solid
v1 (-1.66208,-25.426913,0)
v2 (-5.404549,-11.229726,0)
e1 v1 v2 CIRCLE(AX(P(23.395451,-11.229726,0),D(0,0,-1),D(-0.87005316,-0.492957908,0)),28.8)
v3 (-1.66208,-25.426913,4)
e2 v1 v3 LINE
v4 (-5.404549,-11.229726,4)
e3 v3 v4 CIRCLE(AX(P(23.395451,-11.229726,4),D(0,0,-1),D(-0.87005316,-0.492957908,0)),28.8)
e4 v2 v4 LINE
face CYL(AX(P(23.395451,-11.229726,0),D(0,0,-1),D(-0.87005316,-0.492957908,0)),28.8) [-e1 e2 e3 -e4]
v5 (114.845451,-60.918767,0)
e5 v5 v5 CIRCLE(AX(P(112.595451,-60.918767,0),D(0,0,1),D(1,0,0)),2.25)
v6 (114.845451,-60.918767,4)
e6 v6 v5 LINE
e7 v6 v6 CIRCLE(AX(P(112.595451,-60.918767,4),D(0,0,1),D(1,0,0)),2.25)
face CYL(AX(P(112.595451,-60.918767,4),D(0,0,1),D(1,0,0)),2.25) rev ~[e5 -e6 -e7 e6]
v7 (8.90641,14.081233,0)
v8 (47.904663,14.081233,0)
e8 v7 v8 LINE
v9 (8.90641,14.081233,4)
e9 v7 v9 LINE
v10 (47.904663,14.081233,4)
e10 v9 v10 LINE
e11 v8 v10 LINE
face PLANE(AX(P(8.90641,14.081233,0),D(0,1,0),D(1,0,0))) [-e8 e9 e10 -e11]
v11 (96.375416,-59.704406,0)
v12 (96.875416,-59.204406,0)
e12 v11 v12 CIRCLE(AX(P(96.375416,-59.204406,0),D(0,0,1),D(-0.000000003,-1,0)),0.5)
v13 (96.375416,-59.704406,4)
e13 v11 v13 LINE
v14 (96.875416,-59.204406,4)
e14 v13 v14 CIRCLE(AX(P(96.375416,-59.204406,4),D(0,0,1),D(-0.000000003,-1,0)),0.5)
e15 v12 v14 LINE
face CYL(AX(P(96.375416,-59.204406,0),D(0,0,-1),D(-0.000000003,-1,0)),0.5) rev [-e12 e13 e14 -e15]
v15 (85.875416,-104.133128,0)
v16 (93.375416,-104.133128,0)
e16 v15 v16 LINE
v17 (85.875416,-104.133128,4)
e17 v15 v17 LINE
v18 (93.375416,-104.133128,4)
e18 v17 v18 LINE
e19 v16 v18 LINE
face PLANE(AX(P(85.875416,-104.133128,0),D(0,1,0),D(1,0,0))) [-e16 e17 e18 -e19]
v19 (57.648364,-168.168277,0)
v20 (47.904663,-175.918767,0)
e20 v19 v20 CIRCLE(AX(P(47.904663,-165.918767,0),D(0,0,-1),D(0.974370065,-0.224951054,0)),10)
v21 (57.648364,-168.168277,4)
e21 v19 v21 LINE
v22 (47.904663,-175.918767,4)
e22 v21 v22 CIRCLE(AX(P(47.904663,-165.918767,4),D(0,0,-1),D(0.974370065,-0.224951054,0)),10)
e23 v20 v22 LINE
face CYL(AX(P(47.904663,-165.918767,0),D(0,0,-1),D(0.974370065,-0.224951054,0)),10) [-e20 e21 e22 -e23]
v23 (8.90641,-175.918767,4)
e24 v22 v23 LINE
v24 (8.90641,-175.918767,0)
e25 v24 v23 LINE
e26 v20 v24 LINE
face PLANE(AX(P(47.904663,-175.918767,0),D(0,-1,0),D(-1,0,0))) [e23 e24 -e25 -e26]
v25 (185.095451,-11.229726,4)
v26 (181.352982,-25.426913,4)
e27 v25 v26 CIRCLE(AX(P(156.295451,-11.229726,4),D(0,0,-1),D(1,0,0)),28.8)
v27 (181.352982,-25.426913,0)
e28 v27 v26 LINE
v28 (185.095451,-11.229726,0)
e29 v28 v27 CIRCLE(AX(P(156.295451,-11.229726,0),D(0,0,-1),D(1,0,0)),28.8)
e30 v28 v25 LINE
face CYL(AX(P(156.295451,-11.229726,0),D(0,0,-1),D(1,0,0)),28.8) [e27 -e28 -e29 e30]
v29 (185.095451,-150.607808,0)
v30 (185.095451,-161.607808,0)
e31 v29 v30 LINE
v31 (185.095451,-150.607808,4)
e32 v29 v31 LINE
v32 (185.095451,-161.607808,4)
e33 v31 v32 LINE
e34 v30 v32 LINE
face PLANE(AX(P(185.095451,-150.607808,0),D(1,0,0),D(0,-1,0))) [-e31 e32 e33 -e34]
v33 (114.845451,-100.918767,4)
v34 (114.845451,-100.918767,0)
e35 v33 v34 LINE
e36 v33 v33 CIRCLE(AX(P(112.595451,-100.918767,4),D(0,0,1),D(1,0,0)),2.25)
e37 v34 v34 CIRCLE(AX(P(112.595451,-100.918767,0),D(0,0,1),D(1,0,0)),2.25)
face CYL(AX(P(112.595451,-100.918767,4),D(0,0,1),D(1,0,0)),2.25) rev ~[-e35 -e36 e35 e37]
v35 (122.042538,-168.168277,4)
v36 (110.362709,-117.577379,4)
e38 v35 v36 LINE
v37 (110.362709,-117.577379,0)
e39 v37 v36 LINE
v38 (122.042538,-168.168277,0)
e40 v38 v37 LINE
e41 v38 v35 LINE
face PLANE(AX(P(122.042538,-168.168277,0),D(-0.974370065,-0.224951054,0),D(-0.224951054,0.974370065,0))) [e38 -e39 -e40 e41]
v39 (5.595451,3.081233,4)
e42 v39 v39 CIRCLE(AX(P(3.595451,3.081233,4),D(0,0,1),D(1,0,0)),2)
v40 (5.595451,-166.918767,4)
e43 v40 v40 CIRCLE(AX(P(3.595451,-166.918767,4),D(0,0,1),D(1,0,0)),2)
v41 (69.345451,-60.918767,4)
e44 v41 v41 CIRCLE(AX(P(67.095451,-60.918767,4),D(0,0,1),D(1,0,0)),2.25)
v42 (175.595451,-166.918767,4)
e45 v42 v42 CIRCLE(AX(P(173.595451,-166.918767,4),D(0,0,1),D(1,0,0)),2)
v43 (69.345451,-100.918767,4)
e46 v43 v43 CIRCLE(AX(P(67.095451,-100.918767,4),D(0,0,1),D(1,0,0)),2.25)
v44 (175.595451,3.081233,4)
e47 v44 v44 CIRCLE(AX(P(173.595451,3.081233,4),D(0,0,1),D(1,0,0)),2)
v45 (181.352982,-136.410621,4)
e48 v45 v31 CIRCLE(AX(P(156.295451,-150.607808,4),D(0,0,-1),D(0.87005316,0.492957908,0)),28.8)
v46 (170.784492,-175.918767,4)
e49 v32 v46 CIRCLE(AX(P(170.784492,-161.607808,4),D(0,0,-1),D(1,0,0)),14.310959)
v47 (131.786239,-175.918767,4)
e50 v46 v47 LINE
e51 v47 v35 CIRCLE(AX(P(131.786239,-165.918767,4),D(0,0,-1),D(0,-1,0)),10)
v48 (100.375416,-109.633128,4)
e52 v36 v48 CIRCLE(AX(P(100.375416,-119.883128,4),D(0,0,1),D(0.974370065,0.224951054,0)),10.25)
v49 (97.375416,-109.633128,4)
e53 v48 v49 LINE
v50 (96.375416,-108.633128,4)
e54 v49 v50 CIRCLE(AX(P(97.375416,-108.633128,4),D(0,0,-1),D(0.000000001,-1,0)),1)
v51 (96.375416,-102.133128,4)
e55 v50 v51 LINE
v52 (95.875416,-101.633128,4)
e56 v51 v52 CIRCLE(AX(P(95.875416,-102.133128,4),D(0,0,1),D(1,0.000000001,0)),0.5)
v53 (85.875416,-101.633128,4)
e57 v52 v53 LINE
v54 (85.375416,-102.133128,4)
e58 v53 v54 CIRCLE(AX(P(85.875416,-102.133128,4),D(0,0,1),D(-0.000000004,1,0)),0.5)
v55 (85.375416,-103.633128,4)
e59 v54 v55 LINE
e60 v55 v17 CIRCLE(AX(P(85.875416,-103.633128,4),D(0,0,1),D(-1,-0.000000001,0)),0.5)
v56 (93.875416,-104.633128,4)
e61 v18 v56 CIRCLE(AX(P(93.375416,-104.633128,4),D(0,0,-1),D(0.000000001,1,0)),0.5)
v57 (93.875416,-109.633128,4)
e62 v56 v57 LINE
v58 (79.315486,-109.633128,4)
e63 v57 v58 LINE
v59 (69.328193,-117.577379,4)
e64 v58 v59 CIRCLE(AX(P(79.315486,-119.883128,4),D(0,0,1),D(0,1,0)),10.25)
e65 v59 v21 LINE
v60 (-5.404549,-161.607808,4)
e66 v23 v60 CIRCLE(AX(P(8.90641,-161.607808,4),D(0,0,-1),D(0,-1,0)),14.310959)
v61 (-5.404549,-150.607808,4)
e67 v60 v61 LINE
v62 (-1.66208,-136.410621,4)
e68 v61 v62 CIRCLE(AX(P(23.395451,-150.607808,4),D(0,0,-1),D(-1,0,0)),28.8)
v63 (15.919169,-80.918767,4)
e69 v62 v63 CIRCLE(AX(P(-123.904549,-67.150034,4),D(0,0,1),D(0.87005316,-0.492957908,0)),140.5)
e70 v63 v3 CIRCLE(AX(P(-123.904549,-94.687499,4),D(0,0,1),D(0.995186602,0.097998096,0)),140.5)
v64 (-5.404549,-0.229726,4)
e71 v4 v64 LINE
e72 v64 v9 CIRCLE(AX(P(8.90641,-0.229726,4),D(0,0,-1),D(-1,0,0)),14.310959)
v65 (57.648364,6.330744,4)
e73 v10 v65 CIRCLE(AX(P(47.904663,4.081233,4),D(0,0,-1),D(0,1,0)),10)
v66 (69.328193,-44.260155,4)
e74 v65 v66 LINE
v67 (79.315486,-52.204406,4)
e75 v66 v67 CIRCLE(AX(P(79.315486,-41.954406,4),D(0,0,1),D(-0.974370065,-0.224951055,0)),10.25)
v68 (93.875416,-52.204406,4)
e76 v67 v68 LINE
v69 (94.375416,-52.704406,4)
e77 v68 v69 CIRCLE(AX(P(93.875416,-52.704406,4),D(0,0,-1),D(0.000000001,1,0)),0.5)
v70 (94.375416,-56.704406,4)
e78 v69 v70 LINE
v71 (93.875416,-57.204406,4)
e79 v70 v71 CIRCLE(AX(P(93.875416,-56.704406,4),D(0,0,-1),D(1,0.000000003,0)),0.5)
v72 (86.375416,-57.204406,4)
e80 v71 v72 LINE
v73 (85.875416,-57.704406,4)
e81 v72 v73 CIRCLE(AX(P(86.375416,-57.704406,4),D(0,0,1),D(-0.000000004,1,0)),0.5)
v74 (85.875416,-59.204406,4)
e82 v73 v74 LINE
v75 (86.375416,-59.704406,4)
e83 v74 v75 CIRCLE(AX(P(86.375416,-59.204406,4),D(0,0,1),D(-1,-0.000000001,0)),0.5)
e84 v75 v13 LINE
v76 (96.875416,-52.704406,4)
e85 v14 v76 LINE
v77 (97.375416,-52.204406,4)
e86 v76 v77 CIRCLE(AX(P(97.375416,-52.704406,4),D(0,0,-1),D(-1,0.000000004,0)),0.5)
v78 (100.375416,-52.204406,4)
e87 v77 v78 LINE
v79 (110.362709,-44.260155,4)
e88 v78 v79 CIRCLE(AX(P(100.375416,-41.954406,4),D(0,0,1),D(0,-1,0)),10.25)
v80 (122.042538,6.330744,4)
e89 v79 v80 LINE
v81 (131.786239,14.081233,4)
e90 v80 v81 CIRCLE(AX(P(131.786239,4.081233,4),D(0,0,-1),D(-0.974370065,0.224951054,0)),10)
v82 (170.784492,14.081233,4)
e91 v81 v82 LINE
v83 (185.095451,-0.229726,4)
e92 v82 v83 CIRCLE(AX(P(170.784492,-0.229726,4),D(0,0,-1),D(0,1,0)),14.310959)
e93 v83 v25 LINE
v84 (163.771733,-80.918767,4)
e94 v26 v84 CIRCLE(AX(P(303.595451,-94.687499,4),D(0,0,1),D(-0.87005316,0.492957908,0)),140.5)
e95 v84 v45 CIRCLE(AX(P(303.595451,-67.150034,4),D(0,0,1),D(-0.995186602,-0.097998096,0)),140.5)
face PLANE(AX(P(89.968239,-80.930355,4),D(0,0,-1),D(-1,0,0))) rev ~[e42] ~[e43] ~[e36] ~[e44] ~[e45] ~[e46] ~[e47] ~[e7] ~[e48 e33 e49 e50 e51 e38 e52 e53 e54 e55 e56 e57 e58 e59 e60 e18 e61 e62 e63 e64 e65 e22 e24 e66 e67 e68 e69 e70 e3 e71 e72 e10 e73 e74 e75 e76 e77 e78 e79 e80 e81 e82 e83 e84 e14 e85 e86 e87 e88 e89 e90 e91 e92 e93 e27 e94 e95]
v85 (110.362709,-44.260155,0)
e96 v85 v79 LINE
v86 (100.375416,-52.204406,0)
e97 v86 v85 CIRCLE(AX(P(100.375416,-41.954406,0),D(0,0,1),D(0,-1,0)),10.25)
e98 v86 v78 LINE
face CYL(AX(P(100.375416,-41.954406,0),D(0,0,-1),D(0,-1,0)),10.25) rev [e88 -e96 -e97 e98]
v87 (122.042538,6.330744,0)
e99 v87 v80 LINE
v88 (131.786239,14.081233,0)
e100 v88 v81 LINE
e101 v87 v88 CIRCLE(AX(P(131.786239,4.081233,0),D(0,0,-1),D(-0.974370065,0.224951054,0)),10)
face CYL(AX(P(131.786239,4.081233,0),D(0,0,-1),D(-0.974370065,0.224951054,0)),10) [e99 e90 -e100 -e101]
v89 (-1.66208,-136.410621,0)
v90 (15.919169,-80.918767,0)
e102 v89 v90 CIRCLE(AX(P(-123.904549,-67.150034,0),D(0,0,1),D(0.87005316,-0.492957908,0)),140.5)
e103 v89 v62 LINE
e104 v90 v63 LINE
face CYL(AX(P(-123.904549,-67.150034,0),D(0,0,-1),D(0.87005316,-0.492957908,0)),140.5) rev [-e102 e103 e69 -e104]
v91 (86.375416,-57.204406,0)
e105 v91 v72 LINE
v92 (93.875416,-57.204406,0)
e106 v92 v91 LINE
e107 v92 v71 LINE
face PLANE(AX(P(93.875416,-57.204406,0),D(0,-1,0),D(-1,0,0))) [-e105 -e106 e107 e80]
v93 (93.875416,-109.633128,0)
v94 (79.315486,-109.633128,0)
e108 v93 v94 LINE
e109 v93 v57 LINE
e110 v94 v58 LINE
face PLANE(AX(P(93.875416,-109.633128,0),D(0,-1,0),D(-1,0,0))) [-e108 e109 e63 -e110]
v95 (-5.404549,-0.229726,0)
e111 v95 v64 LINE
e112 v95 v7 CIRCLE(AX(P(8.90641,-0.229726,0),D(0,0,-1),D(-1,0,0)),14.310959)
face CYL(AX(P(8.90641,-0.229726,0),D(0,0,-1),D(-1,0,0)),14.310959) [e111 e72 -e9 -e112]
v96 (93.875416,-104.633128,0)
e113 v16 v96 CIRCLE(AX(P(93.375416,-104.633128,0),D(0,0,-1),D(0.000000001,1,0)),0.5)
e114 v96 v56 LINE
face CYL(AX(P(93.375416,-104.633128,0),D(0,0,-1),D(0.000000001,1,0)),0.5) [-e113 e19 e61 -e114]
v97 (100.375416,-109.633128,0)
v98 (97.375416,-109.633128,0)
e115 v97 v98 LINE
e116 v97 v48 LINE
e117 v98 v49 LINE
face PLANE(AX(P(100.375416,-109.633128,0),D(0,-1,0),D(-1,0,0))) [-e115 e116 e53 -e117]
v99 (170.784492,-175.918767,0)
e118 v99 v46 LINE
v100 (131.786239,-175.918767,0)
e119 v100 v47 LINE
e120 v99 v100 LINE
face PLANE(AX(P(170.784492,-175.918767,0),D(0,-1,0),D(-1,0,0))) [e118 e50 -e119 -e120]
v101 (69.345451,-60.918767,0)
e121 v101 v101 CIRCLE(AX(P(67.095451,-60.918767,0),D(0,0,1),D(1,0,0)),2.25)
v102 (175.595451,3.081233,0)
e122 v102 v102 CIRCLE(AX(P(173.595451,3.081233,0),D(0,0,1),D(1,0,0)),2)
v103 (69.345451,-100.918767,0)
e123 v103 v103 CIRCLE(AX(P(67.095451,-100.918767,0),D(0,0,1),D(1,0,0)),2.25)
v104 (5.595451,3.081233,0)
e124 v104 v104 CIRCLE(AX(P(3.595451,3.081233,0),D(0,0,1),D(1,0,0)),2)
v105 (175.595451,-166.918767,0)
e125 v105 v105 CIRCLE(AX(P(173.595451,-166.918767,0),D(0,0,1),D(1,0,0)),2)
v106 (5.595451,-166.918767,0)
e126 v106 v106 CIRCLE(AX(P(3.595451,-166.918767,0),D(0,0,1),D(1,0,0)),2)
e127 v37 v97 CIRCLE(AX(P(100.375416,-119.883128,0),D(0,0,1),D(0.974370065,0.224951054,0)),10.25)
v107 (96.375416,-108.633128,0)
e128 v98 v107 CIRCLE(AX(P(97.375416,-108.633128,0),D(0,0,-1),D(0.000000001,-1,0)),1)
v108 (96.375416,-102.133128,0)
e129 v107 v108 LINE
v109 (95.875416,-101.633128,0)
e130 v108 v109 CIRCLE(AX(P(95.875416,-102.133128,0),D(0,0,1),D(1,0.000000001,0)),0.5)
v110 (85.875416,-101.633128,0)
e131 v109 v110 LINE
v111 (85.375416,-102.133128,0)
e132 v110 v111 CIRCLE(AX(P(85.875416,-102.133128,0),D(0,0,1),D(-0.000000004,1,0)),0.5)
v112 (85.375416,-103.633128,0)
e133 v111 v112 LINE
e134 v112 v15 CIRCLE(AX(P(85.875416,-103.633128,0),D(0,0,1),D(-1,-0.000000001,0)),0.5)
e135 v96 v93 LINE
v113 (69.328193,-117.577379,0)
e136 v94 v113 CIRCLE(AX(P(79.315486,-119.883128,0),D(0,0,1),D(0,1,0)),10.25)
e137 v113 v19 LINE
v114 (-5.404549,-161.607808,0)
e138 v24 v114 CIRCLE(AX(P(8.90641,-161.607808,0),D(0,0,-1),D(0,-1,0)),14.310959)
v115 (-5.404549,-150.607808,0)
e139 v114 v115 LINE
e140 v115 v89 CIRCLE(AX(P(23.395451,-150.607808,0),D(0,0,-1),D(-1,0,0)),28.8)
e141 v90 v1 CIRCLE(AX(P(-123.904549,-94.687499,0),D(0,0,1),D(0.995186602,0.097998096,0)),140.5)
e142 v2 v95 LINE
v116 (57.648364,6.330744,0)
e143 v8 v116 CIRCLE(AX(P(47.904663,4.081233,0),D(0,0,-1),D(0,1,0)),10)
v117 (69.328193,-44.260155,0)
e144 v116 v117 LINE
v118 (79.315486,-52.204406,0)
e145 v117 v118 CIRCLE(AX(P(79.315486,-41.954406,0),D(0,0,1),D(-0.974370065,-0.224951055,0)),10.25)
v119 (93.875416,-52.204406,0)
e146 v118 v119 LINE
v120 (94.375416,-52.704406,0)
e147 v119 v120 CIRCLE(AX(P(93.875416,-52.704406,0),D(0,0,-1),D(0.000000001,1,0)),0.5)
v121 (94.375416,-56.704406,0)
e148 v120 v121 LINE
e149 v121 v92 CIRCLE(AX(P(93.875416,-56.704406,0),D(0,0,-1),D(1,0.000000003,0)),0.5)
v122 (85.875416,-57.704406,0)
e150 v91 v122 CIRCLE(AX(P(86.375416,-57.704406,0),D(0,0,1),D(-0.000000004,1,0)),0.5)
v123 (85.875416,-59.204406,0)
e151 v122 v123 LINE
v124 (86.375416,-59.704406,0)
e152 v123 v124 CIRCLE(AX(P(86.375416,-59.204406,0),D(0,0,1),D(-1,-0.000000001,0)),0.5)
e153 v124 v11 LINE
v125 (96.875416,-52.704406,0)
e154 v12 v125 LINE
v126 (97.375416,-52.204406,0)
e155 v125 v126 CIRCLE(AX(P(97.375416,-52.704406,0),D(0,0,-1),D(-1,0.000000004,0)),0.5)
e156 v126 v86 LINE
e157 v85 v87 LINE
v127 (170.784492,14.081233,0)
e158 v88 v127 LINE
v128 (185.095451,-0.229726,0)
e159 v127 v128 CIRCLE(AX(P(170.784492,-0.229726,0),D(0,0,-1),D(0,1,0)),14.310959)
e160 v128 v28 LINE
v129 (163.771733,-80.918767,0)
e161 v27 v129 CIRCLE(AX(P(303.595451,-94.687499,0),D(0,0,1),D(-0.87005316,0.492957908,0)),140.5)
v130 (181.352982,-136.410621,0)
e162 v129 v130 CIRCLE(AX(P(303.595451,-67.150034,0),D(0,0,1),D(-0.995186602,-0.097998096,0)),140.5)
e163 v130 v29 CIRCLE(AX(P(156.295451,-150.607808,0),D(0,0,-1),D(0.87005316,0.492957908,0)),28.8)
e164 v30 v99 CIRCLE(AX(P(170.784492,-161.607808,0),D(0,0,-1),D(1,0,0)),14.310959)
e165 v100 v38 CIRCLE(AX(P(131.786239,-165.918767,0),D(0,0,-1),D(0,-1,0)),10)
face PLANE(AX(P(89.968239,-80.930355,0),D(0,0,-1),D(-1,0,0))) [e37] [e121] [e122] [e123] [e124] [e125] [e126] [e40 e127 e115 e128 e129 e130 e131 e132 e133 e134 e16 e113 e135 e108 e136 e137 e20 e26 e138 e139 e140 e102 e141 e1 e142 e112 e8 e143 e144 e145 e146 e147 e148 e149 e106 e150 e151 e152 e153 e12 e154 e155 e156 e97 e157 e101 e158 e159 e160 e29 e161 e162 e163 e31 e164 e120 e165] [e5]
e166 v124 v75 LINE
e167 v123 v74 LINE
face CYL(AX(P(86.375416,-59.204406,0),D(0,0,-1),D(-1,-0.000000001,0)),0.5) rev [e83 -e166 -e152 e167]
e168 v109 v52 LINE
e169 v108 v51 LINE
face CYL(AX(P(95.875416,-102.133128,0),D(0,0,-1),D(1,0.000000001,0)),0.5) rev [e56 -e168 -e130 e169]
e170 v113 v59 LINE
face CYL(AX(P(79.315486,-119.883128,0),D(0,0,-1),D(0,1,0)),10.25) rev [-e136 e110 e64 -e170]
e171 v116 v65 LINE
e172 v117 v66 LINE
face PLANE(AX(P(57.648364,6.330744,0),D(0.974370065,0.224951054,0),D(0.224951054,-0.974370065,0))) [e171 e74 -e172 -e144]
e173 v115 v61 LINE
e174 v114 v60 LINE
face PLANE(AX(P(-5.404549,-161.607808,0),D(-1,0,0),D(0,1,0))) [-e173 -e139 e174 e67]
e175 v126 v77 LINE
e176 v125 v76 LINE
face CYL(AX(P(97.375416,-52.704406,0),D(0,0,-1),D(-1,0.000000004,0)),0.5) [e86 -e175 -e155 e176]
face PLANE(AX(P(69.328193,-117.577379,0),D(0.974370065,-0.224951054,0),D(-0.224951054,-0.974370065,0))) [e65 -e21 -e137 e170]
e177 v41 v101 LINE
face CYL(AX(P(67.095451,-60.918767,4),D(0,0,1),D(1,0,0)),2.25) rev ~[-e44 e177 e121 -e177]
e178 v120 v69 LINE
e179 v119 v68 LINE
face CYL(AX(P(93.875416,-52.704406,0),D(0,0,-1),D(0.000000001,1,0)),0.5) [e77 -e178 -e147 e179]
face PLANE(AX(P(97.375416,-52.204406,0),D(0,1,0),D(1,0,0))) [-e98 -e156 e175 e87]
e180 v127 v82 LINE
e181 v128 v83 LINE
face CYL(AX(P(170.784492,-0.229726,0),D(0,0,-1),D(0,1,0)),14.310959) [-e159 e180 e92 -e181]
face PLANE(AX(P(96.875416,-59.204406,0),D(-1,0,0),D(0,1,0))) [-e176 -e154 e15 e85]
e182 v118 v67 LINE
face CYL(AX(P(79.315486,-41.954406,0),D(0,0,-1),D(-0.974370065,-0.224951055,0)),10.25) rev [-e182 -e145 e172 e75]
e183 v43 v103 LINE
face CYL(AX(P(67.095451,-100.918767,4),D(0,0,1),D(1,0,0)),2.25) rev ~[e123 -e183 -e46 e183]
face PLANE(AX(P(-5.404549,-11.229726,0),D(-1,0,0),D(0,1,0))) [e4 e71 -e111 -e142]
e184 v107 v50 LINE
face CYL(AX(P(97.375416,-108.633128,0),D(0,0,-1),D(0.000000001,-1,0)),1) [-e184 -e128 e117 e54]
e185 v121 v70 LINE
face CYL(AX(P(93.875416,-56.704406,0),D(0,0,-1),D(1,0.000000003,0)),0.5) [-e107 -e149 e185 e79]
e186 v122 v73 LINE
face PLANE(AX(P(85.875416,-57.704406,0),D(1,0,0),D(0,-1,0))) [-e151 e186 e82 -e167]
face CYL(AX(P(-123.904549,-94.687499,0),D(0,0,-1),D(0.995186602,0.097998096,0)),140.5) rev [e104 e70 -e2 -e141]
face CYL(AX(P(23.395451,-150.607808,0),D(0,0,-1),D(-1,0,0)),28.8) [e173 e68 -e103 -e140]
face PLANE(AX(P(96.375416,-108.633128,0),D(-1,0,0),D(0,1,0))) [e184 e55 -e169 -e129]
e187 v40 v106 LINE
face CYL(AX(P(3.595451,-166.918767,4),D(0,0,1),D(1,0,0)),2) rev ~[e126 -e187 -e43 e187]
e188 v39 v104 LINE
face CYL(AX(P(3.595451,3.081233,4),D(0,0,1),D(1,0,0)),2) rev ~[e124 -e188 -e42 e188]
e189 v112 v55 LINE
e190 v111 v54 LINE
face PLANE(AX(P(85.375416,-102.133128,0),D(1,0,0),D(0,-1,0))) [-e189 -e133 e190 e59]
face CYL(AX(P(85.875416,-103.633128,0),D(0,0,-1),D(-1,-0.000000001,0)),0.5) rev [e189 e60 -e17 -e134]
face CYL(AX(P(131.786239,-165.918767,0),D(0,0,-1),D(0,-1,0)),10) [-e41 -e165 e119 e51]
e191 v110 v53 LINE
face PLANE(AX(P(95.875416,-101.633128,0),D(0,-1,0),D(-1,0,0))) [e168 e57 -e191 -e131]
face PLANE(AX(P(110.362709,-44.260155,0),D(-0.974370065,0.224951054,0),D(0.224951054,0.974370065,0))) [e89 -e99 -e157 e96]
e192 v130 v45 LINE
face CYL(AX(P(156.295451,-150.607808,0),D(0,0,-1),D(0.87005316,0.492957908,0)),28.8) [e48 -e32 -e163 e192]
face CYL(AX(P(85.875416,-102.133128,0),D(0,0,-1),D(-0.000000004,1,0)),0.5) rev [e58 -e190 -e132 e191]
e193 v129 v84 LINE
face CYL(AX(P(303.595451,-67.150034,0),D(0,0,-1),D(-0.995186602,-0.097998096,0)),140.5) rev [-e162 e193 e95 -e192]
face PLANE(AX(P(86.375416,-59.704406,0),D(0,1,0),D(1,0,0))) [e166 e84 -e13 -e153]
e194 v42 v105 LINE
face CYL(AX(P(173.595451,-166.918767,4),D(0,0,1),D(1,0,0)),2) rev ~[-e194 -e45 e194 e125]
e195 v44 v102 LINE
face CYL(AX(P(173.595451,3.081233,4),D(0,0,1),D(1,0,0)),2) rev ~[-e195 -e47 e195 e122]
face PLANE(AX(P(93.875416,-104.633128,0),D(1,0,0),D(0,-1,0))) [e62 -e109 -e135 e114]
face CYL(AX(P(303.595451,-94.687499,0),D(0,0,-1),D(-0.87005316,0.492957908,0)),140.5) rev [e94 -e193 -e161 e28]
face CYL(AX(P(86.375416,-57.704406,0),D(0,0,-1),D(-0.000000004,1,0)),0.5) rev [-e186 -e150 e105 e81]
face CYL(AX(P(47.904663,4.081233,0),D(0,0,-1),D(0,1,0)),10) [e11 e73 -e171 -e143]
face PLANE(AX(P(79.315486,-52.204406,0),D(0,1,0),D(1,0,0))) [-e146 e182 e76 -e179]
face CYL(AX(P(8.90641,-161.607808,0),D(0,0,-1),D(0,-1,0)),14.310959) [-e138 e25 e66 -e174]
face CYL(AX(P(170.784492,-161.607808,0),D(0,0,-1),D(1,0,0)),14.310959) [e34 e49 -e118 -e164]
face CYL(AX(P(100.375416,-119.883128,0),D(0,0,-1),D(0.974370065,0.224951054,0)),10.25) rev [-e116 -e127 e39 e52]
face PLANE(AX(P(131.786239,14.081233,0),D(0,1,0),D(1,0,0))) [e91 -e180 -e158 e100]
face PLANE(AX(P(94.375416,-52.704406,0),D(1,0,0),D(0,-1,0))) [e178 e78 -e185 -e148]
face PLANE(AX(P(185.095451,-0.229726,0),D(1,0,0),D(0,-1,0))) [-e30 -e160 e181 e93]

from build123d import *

# Parameters (mm, degrees)
BOSS_EXTRUDE1_DEPTH = 4
SKETCH3_R           = 2
SKETCH3_R_2         = 2.25
CUT_EXTRUDE1_DEPTH  = 4


with BuildPart() as part:
    # Sketch2 → Boss-Extrude1 (new body)
    with BuildSketch(Plane.XY):
        with BuildLine():
            Line((94.375415976, -52.704406223), (94.375415976, -56.704406223))
            ThreePointArc((94.375415976, -56.704406223), (94.228969367, -57.057959614), (93.875415976, -57.204406223))
            Line((93.875415976, -57.204406223), (86.375415976, -57.204406223))
            ThreePointArc((86.375415976, -57.204406223), (86.021862586, -57.350852833), (85.875415976, -57.704406223))
            Line((85.875415976, -57.704406223), (85.875415976, -59.204406223))
            ThreePointArc((85.875415976, -59.204406223), (86.021862586, -59.557959614), (86.375415976, -59.704406223))
            Line((86.375415976, -59.704406223), (96.375415976, -59.704406223))
            ThreePointArc((96.375415976, -59.704406223), (96.728969367, -59.557959614), (96.875415976, -59.204406223))
            Line((96.875415976, -59.204406223), (96.875415976, -52.704406223))
            ThreePointArc((96.875415976, -52.704406223), (97.021862586, -52.350852833), (97.375415976, -52.204406223))
            Line((97.375415976, -52.204406223), (100.375415976, -52.204406223))
            ThreePointArc((100.375415976, -52.204406223), (106.756191002, -49.976139831), (110.36270914, -44.260154531))
            Line((110.36270914, -44.260154531), (122.04253828, 6.330743606))
            ThreePointArc((122.04253828, 6.330743606), (125.561092562, 11.907314631), (131.786238928, 14.081233063))
            Line((131.786238928, 14.081233063), (170.7844924, 14.081233063))
            ThreePointArc((170.7844924, 14.081233063), (180.903868338, 9.889650306), (185.095451094, -0.229725632))
            Line((185.095451094, -0.229725632), (185.095451094, -11.229725632))
            ThreePointArc((185.095451094, -11.229725632), (184.144121557, -18.570812299), (181.352982104, -25.42691337))
            ThreePointArc((181.352982104, -25.42691337), (169.65700257, -52.25234878), (163.771733482, -80.918766937))
            ThreePointArc((163.771733482, -80.918766937), (169.65700257, -109.585185095), (181.352982104, -136.410620505))
            ThreePointArc((181.352982104, -136.410620505), (184.144121557, -143.266721576), (185.095451094, -150.607808243))
            Line((185.095451094, -150.607808243), (185.095451094, -161.607808243))
            ThreePointArc((185.095451094, -161.607808243), (180.903868338, -171.727184181), (170.7844924, -175.918766937))
            Line((170.7844924, -175.918766937), (131.786238928, -175.918766937))
            ThreePointArc((131.786238928, -175.918766937), (125.561092562, -173.744848506), (122.04253828, -168.168277481))
            Line((122.04253828, -168.168277481), (110.36270914, -117.577379344))
            ThreePointArc((110.36270914, -117.577379344), (106.756191002, -111.861394044), (100.375415976, -109.633127651))
            Line((100.375415976, -109.633127651), (97.375415976, -109.633127651))
            ThreePointArc((97.375415976, -109.633127651), (96.668309195, -109.340234433), (96.375415976, -108.633127651))
            Line((96.375415976, -108.633127651), (96.375415976, -102.133127651))
            ThreePointArc((96.375415976, -102.133127651), (96.228969367, -101.779574261), (95.875415976, -101.633127651))
            Line((95.875415976, -101.633127651), (85.875415976, -101.633127651))
            ThreePointArc((85.875415976, -101.633127651), (85.521862586, -101.779574261), (85.375415976, -102.133127651))
            Line((85.375415976, -102.133127651), (85.375415976, -103.633127651))
            ThreePointArc((85.375415976, -103.633127651), (85.521862586, -103.986681042), (85.875415976, -104.133127651))
            Line((85.875415976, -104.133127651), (93.375415976, -104.133127651))
            ThreePointArc((93.375415976, -104.133127651), (93.728969367, -104.279574261), (93.875415976, -104.633127651))
            Line((93.875415976, -104.633127651), (93.875415976, -108.633127651))
            Line((93.875415976, -108.633127651), (93.875415976, -109.633127651))
            Line((93.875415976, -109.633127651), (82.315486211, -109.633127651))
            Line((82.315486211, -109.633127651), (79.315486211, -109.633127651))
            ThreePointArc((79.315486211, -109.633127651), (72.934711186, -111.861394044), (69.328193047, -117.577379344))
            Line((69.328193047, -117.577379344), (57.648363907, -168.168277481))
            ThreePointArc((57.648363907, -168.168277481), (54.129809626, -173.744848506), (47.904663259, -175.918766937))
            Line((47.904663259, -175.918766937), (8.906409788, -175.918766937))
            ThreePointArc((8.906409788, -175.918766937), (-1.21296615, -171.727184181), (-5.404548906, -161.607808243))
            Line((-5.404548906, -161.607808243), (-5.404548906, -150.607808243))
            ThreePointArc((-5.404548906, -150.607808243), (-4.453219369, -143.266721576), (-1.662079916, -136.410620505))
            ThreePointArc((-1.662079916, -136.410620505), (10.033899618, -109.585185095), (15.919168706, -80.918766937))
            ThreePointArc((15.919168706, -80.918766937), (10.033899618, -52.25234878), (-1.662079916, -25.42691337))
            ThreePointArc((-1.662079916, -25.42691337), (-4.453219369, -18.570812299), (-5.404548906, -11.229725632))
            Line((-5.404548906, -11.229725632), (-5.404548906, -0.229725632))
            ThreePointArc((-5.404548906, -0.229725632), (-1.21296615, 9.889650306), (8.906409788, 14.081233063))
            Line((8.906409788, 14.081233063), (47.904663259, 14.081233063))
            ThreePointArc((47.904663259, 14.081233063), (54.129809626, 11.907314631), (57.648363907, 6.330743606))
            Line((57.648363907, 6.330743606), (69.328193047, -44.260154531))
            ThreePointArc((69.328193047, -44.260154531), (72.934711186, -49.976139831), (79.315486211, -52.204406223))
            Line((79.315486211, -52.204406223), (82.315486211, -52.204406223))
            Line((82.315486211, -52.204406223), (93.875415976, -52.204406223))
            ThreePointArc((93.875415976, -52.204406223), (94.228969367, -52.350852833), (94.375415976, -52.704406223))
        make_face()
    extrude(amount=BOSS_EXTRUDE1_DEPTH)

    # Sketch3 → Cut-Extrude1 (cut)
    with BuildSketch(Plane.XY.offset(4)):
        with Locations((3.595451094, 3.081233063)):
            Circle(SKETCH3_R)
        with Locations((3.595451094, -166.918766937)):
            Circle(SKETCH3_R)
        with Locations((67.095451094, -60.918766937)):
            Circle(SKETCH3_R_2)
        with Locations((112.595451094, -60.918766937)):
            Circle(SKETCH3_R_2)
        with Locations((67.095451094, -100.918766947)):
            Circle(SKETCH3_R_2)
        with Locations((112.595451094, -100.918766947)):
            Circle(SKETCH3_R_2)
        with Locations((173.595451094, -166.918766937)):
            Circle(SKETCH3_R)
        with Locations((173.595451094, 3.081233063)):
            Circle(SKETCH3_R)
    extrude(amount=-CUT_EXTRUDE1_DEPTH, mode=Mode.SUBTRACT)


solid = part.part
